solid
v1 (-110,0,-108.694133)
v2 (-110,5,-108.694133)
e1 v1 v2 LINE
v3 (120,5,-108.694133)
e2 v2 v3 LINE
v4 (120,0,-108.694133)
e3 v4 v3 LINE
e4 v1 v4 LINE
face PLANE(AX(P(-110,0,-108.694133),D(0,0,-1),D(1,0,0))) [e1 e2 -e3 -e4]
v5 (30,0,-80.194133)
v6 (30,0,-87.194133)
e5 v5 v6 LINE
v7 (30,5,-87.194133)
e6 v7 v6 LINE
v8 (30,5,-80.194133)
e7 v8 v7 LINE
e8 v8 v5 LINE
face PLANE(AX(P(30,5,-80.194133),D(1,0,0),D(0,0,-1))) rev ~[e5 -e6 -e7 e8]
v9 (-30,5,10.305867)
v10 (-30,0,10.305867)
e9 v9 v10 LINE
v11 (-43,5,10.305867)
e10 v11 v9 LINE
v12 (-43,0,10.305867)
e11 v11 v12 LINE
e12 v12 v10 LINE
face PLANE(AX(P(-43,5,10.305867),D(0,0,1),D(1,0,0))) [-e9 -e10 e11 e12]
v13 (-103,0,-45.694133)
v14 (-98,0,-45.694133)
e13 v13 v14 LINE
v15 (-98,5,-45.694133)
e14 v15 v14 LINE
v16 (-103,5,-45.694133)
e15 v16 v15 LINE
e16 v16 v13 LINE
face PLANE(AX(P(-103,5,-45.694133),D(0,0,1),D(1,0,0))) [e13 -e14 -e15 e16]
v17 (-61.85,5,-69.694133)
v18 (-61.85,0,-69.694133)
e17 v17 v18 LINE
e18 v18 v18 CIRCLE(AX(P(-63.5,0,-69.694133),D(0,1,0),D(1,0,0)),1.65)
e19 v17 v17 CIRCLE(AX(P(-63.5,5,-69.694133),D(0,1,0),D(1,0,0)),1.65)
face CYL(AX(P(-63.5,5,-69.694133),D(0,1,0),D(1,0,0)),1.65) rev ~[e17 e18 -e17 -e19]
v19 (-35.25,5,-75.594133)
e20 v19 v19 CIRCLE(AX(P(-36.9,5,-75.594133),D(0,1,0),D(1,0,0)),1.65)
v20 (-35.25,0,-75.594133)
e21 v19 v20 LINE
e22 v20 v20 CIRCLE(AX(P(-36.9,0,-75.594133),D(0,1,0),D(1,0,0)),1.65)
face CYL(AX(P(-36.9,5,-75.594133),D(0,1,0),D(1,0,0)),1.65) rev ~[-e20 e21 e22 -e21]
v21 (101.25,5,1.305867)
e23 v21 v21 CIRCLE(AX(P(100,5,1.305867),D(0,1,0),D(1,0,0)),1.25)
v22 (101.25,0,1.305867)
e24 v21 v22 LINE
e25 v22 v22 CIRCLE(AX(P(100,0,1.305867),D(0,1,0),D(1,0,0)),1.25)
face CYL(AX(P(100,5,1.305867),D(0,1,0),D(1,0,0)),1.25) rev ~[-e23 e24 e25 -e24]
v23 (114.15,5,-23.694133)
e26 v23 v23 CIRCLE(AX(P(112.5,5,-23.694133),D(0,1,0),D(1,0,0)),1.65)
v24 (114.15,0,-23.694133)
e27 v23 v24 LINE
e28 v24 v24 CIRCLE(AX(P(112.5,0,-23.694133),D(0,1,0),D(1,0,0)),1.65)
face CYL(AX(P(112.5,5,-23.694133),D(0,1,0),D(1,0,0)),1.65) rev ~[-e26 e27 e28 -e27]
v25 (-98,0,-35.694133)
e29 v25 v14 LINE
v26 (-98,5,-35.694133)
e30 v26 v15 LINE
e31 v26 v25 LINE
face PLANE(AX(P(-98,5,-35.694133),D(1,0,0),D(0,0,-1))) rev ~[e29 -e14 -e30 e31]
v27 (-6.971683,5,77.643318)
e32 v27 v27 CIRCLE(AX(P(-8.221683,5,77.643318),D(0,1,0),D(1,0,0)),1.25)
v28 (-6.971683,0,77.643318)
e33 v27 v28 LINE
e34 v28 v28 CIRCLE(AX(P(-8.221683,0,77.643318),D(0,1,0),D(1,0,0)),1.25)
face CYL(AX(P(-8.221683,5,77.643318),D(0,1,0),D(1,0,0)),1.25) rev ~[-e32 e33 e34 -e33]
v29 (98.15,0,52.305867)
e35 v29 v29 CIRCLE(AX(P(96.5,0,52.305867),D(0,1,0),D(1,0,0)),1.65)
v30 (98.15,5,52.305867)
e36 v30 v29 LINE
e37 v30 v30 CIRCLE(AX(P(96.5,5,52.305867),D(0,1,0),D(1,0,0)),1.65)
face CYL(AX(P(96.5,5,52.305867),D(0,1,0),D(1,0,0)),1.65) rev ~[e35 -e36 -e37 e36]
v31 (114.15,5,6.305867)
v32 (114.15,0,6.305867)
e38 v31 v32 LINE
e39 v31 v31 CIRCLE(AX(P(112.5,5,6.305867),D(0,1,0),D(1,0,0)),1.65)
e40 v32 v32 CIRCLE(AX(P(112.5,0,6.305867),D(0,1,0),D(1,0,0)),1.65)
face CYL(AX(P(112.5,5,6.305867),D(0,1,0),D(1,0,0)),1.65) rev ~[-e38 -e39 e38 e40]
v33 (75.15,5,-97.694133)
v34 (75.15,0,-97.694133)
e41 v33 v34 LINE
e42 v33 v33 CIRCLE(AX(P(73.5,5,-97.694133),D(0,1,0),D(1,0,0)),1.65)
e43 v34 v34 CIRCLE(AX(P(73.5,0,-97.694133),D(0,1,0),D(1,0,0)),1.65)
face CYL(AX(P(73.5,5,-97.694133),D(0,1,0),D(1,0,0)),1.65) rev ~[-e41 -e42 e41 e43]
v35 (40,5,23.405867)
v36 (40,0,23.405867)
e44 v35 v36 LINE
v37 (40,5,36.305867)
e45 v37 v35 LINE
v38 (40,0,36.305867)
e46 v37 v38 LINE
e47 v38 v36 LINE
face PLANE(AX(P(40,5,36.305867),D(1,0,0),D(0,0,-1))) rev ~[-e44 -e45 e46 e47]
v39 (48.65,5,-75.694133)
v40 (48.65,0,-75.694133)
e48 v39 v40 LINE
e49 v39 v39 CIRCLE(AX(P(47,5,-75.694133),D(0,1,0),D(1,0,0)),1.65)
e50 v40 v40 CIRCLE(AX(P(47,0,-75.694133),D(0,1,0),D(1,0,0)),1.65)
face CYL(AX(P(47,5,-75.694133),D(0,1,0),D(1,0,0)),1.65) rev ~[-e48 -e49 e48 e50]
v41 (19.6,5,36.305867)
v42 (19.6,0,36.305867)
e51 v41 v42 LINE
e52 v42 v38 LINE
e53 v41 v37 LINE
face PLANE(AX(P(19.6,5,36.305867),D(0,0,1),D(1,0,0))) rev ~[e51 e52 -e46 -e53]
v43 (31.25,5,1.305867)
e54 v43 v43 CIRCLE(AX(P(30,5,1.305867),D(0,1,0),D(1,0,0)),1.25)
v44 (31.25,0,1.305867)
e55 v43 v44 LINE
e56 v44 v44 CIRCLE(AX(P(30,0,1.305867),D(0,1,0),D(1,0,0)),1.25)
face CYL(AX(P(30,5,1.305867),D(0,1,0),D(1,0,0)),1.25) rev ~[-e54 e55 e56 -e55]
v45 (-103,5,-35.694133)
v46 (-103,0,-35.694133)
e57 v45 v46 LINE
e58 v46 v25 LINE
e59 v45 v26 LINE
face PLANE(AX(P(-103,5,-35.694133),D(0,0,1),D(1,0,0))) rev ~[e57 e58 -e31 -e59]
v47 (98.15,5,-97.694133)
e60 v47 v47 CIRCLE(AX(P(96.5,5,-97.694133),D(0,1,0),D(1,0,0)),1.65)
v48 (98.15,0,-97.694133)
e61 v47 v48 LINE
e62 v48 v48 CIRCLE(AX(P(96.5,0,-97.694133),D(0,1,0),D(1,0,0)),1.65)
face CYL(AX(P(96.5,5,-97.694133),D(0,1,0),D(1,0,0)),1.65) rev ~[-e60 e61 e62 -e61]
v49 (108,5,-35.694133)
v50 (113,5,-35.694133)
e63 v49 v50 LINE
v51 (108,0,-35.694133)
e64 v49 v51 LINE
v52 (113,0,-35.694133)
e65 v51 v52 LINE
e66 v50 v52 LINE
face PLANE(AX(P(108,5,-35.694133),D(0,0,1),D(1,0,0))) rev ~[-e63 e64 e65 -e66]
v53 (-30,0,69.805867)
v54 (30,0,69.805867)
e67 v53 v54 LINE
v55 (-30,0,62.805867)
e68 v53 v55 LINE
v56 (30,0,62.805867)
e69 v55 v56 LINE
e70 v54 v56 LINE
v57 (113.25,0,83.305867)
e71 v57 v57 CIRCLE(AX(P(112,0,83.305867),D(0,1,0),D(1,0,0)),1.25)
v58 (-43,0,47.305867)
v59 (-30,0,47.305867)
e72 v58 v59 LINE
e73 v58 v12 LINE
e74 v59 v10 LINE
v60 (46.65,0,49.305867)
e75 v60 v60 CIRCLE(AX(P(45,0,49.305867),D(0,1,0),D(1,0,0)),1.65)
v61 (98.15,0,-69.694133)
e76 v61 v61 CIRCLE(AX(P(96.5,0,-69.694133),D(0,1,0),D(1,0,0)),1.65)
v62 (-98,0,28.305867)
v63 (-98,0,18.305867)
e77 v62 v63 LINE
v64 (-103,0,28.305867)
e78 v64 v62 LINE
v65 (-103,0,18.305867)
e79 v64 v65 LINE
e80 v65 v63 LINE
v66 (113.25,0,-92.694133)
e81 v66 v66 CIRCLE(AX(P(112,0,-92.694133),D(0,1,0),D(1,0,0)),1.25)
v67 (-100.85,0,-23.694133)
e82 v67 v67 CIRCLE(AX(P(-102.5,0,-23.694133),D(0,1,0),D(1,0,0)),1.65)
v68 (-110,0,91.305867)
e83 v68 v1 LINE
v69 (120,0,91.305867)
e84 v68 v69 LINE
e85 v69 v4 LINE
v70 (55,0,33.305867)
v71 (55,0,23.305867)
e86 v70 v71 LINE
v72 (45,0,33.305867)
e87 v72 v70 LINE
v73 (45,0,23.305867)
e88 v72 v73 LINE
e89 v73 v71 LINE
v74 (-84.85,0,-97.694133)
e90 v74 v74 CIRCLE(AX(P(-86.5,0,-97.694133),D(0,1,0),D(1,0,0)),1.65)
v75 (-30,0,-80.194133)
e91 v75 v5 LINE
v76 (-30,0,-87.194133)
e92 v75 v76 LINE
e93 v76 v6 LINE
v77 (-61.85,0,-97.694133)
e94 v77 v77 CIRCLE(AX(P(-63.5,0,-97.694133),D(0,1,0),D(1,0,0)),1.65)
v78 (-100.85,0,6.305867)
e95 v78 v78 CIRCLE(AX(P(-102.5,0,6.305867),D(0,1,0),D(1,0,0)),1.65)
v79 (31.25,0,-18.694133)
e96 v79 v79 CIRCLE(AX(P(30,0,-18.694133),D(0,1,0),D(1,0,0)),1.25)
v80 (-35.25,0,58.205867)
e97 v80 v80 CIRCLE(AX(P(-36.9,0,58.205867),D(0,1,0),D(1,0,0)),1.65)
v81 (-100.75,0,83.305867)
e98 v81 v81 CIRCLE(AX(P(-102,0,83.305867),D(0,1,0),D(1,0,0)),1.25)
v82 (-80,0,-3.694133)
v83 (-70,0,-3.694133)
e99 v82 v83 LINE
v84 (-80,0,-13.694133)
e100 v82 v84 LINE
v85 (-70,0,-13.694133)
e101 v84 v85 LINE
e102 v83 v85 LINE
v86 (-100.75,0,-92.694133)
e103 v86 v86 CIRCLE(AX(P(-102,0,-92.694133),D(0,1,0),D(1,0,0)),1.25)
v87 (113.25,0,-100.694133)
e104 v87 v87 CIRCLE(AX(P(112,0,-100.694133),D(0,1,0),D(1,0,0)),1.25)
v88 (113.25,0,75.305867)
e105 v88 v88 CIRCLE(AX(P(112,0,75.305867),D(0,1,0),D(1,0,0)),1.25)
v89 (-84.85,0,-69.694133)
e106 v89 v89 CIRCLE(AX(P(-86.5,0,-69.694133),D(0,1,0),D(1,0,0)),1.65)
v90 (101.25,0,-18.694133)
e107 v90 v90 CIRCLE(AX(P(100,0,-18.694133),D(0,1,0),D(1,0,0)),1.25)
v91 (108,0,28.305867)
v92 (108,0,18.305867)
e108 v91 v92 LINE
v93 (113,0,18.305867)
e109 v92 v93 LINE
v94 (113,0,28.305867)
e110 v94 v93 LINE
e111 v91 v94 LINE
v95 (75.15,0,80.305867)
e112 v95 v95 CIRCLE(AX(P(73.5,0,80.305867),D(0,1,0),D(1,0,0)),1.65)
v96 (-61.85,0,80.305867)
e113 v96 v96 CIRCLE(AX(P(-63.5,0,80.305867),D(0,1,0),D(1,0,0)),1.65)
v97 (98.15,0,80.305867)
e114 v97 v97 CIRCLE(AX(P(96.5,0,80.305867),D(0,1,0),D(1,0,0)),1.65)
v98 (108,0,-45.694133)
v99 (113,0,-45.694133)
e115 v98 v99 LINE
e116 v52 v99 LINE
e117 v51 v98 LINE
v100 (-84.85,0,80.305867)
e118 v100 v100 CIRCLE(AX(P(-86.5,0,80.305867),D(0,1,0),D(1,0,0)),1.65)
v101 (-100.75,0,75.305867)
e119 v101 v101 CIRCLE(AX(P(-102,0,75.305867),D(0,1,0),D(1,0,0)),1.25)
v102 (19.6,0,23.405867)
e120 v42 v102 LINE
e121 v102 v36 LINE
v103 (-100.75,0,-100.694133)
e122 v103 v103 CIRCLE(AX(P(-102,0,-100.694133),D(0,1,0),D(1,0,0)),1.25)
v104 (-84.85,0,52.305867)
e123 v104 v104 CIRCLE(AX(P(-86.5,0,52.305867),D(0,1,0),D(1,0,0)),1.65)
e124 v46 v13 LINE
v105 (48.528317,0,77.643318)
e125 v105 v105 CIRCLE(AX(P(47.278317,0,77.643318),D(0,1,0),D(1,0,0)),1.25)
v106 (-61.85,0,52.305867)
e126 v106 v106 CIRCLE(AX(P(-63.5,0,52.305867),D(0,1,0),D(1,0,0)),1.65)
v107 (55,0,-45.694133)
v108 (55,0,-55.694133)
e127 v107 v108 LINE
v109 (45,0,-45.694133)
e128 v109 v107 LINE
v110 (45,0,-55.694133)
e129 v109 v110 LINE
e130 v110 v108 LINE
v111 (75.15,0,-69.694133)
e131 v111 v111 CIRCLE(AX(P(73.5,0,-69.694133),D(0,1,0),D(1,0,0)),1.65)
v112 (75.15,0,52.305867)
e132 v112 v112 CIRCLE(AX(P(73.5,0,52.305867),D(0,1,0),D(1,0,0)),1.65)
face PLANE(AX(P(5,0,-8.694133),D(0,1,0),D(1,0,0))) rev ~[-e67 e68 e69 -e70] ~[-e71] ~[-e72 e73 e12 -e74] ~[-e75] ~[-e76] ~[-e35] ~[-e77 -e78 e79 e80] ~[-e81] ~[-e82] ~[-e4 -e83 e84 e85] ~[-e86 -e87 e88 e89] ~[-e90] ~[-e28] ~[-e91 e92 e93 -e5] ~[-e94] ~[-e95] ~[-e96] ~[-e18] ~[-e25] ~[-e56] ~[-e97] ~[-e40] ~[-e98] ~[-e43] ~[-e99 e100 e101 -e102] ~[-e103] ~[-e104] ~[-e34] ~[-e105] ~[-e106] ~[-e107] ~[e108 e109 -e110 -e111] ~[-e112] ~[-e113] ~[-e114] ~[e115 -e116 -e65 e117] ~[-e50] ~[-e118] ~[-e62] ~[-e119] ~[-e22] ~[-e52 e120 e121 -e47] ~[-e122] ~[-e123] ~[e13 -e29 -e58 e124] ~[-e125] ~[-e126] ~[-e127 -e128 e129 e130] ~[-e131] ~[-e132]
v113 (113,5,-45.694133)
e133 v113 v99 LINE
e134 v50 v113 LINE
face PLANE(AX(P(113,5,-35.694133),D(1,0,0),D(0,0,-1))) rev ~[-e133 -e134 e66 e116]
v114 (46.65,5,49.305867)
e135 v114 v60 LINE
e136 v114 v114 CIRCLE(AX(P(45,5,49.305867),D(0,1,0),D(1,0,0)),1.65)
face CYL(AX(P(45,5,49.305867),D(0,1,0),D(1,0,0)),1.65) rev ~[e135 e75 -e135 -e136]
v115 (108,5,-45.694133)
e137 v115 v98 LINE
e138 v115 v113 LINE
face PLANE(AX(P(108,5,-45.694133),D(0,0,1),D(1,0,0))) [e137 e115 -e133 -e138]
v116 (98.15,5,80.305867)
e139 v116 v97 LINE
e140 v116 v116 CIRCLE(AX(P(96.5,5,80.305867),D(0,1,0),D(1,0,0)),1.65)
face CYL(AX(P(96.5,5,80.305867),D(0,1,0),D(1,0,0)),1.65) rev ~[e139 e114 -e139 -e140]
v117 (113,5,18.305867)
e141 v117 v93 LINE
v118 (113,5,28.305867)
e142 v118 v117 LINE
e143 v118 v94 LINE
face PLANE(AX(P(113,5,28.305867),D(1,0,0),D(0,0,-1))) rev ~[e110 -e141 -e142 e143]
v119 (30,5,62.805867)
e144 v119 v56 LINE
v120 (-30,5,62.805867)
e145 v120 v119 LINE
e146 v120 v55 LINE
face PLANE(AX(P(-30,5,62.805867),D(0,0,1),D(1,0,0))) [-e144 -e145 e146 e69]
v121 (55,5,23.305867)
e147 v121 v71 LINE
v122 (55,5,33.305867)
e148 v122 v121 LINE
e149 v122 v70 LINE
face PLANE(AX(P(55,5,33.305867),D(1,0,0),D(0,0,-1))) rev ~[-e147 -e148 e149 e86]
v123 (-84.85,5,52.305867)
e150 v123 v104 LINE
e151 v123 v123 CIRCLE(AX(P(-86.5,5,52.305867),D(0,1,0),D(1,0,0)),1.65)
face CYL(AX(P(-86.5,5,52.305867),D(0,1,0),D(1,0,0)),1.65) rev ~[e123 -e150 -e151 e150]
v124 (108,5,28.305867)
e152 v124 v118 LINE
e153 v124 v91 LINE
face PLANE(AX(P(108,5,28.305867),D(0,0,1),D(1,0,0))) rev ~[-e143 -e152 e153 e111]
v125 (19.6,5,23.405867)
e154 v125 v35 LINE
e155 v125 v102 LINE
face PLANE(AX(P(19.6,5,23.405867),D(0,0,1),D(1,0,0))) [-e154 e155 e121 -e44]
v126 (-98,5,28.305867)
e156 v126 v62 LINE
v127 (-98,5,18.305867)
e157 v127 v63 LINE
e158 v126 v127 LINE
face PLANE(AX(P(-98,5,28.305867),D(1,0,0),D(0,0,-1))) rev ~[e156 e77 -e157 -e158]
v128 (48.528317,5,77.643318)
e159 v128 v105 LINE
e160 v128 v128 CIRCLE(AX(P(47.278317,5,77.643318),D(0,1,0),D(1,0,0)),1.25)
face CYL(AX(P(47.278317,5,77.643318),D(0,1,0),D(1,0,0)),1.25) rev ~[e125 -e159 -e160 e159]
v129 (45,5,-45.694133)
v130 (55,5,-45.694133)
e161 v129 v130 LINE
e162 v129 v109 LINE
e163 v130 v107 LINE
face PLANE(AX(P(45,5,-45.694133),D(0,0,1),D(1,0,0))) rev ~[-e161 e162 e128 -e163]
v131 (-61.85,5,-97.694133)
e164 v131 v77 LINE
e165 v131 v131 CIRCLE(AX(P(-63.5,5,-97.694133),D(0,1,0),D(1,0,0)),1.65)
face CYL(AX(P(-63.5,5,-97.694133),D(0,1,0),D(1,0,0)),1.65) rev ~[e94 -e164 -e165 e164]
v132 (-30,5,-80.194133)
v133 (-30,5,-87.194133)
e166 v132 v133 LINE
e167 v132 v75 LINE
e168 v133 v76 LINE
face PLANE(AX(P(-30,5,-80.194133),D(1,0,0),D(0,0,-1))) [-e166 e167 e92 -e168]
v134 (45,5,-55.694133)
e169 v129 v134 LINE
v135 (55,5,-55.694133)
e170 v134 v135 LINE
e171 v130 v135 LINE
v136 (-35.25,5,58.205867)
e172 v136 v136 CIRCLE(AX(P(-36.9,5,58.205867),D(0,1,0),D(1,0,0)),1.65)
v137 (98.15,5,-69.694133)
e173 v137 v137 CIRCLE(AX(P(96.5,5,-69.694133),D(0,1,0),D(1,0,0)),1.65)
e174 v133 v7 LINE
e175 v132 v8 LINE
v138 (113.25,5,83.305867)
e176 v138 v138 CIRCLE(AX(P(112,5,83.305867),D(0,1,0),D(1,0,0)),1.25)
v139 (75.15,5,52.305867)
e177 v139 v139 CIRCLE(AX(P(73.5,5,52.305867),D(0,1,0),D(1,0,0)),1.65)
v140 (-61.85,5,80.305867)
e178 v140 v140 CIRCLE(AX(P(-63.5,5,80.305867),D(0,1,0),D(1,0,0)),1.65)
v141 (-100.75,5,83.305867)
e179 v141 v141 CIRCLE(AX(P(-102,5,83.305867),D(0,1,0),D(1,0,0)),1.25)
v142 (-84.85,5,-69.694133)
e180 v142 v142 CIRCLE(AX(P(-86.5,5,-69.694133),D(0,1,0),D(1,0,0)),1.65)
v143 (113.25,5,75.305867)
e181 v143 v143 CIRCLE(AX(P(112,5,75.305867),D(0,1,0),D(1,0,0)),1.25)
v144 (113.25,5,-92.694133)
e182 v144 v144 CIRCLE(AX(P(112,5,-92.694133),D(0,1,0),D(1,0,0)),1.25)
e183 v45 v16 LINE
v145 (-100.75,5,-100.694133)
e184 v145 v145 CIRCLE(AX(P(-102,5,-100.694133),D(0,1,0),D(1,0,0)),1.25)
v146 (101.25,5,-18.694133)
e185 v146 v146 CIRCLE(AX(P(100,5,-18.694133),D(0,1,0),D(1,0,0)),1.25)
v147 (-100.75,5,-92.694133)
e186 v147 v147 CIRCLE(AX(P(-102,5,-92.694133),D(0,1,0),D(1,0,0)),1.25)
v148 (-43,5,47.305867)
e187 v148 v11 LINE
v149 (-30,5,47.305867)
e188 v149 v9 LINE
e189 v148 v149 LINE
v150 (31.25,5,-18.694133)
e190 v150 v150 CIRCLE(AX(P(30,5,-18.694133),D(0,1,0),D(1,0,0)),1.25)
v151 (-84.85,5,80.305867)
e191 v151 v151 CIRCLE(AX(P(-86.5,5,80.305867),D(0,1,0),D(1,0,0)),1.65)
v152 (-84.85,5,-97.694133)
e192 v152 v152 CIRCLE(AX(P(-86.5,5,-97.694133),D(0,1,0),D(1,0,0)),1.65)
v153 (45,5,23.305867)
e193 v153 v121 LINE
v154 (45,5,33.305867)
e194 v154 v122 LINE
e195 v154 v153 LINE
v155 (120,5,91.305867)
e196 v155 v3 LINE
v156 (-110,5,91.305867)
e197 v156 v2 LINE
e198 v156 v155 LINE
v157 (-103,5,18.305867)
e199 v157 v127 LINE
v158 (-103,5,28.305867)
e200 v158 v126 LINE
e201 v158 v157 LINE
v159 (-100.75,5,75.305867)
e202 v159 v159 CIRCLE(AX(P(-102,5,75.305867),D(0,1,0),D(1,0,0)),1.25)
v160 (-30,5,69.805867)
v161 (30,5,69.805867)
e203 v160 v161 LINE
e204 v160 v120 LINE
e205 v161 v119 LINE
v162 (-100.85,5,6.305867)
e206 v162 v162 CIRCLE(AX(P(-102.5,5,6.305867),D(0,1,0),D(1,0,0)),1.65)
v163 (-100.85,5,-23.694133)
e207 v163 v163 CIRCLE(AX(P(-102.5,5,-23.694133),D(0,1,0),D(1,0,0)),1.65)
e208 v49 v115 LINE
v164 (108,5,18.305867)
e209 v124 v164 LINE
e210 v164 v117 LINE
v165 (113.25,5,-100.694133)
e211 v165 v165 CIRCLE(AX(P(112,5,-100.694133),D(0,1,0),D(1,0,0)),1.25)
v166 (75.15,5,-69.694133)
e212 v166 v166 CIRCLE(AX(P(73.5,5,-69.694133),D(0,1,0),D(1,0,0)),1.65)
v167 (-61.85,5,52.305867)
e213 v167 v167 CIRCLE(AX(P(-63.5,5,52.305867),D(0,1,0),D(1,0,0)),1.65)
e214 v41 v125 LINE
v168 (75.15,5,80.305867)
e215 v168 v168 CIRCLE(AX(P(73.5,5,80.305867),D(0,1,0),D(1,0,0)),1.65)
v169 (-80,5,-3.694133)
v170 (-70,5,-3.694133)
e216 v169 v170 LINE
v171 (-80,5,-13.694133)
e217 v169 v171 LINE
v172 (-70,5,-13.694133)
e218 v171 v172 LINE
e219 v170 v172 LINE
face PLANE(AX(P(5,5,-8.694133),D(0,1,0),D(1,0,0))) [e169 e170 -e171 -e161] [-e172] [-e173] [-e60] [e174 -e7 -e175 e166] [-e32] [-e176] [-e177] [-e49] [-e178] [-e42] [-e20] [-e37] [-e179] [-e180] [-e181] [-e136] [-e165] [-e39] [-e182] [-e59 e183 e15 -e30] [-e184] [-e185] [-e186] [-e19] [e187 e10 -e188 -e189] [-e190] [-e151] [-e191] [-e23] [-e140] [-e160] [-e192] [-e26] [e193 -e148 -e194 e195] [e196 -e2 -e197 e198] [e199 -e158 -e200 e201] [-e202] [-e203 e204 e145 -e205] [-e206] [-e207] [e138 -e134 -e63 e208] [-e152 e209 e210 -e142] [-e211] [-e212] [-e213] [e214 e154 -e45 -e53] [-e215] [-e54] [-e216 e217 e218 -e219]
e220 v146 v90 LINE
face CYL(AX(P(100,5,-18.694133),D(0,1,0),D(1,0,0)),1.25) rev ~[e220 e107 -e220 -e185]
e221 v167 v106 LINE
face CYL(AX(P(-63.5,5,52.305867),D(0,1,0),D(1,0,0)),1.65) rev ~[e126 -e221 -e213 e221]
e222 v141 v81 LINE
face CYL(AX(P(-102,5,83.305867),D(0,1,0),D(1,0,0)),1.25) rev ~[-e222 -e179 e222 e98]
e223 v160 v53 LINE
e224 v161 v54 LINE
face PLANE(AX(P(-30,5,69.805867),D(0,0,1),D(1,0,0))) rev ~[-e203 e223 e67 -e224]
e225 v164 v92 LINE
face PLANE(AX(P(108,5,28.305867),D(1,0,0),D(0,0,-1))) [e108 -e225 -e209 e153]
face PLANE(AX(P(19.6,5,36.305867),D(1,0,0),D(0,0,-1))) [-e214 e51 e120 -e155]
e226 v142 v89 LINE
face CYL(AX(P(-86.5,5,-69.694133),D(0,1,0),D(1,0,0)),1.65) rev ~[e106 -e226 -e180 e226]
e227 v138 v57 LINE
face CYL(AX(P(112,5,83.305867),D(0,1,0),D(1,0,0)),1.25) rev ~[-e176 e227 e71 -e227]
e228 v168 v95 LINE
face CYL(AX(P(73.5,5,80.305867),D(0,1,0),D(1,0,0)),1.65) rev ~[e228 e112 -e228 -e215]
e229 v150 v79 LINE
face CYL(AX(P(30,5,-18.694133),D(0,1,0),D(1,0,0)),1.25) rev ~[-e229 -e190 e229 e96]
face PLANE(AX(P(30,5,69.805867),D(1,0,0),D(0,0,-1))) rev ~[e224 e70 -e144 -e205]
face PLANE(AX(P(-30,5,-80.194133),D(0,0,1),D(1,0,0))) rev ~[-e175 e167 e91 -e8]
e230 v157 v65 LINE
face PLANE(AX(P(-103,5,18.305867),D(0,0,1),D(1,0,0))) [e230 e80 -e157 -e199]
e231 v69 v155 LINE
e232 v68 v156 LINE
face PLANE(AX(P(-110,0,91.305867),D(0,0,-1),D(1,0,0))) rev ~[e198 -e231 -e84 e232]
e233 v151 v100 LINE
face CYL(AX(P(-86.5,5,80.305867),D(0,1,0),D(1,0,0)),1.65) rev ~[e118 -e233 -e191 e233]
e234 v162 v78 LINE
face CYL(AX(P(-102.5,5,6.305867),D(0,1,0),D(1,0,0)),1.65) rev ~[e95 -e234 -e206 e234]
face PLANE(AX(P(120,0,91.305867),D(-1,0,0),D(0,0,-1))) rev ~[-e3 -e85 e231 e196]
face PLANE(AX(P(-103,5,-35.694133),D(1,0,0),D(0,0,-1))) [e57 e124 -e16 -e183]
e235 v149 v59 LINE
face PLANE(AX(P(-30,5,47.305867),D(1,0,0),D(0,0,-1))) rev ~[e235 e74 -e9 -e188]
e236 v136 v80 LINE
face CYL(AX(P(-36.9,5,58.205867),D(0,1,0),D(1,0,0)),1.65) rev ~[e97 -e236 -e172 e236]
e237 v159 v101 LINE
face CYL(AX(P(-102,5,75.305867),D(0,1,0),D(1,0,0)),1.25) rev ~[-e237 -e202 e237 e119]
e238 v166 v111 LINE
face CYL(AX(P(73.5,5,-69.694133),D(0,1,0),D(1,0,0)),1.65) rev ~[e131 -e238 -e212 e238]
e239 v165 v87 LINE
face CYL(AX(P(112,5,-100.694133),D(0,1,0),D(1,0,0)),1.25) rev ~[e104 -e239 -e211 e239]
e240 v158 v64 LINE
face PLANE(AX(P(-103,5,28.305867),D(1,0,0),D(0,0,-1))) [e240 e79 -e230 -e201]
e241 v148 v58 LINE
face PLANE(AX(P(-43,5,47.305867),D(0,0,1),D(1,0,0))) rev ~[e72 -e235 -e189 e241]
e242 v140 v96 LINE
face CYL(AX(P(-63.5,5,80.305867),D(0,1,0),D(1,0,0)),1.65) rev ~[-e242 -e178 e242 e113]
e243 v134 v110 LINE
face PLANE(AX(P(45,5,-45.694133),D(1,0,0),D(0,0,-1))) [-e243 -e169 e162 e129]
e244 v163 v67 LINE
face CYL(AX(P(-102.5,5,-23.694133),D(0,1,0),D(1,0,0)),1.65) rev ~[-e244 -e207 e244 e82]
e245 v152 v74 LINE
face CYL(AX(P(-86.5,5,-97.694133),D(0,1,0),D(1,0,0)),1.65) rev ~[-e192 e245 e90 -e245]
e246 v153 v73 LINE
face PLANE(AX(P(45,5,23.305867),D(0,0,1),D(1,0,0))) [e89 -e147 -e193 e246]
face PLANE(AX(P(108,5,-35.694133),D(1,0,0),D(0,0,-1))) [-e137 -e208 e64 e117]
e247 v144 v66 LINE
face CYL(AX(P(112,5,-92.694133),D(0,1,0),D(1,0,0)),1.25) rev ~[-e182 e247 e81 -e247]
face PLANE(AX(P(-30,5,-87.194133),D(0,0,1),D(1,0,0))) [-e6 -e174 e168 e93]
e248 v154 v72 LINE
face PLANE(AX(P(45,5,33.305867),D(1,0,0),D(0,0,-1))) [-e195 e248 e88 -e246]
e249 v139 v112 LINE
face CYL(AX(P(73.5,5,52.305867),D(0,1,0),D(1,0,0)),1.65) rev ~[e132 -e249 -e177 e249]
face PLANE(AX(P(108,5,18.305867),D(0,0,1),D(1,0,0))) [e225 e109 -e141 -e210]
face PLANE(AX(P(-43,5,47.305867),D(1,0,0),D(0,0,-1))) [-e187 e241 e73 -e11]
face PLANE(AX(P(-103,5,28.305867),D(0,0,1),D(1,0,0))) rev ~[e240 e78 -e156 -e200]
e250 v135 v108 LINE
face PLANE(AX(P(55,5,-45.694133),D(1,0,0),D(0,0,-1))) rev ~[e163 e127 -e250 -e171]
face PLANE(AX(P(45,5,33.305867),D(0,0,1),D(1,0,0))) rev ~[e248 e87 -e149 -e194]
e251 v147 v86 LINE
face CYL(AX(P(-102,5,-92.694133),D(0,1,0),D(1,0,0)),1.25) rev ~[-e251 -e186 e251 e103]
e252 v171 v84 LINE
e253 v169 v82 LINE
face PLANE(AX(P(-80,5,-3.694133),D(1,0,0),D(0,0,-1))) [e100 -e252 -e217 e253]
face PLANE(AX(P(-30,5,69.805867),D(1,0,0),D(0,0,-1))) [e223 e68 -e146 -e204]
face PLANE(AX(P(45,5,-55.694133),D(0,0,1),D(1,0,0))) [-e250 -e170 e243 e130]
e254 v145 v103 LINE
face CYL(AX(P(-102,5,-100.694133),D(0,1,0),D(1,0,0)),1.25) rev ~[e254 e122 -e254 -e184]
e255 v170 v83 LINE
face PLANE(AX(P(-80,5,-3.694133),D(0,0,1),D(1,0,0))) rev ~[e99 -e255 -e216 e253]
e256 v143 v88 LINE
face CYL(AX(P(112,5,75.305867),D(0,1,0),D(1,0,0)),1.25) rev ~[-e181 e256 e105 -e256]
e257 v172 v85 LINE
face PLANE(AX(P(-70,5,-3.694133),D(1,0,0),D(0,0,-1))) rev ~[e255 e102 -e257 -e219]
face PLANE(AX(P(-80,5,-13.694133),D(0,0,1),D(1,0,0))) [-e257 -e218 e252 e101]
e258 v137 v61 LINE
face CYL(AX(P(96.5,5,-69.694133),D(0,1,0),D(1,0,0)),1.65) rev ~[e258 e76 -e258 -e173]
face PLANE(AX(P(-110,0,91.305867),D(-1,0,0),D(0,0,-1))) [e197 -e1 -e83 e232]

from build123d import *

# Parameters (mm, degrees)
SKETCH1_W                       = 230
SKETCH1_H                       = 200
EXTRUDE1_DEPTH                  = 5
SKETCH3_R                       = 1.65
SKETCH3_W                       = 60
SKETCH3_H                       = 7
SKETCH3_W_2                     = 13
SKETCH3_H_2                     = 37
EXTRUDE2_DEPTH                  = 5
SKIZZE1_R                       = 1.25
SCHNITT_LINEAR_AUSTRAGEN1_DEPTH = 10
SKIZZE3_R                       = 1.25
SCHNITT_LINEAR_AUSTRAGEN3_DEPTH = 5
SKIZZE4_R                       = 1.65
SKIZZE4_W                       = 5
SKIZZE4_H                       = 10
SCHNITT_LINEAR_AUSTRAGEN4_DEPTH = 10
SKIZZE5_R                       = 1.25
SCHNITT_LINEAR_AUSTRAGEN5_DEPTH = 10
SKIZZE6_W                       = 20.4
SKIZZE6_H                       = 12.9
SCHNITT_LINEAR_AUSTRAGEN6_DEPTH = 10
SKIZZE7_W                       = 10
SKIZZE7_H                       = 10
SCHNITT_LINEAR_AUSTRAGEN7_DEPTH = 10
SKIZZE8_W                       = 10
SKIZZE8_H                       = 10
SCHNITT_LINEAR_AUSTRAGEN8_DEPTH = 10


with BuildPart() as part:
    # Sketch1 → Extrude1 (new body)
    with BuildSketch(Plane(origin=(0, 0, 0), x_dir=(1, 0, 0), z_dir=(0, 1, 0))):
        with Locations((5, 8.694132839)):
            Rectangle(SKETCH1_W, SKETCH1_H)
    extrude(amount=EXTRUDE1_DEPTH)

    # Sketch3 → Extrude2 (cut)
    with BuildSketch(Plane(origin=(0, 5, 0), x_dir=(1, 0, 0), z_dir=(0, 1, 0))):
        with Locations((-86.5, 97.694132839)):
            Circle(SKETCH3_R)
        with Locations((-63.5, 97.694132839)):
            Circle(SKETCH3_R)
        with Locations((-86.5, 69.694132839)):
            Circle(SKETCH3_R)
        with Locations((-63.5, 69.694132839)):
            Circle(SKETCH3_R)
        with Locations((-86.5, -52.305867161)):
            Circle(SKETCH3_R)
        with Locations((-63.5, -52.305867161)):
            Circle(SKETCH3_R)
        with Locations((-86.5, -80.305867161)):
            Circle(SKETCH3_R)
        with Locations((-63.5, -80.305867161)):
            Circle(SKETCH3_R)
        with Locations((73.5, -52.305867161)):
            Circle(SKETCH3_R)
        with Locations((96.5, -52.305867161)):
            Circle(SKETCH3_R)
        with Locations((73.5, -80.305867161)):
            Circle(SKETCH3_R)
        with Locations((96.5, -80.305867161)):
            Circle(SKETCH3_R)
        with Locations((73.5, 97.694132839)):
            Circle(SKETCH3_R)
        with Locations((96.5, 97.694132839)):
            Circle(SKETCH3_R)
        with Locations((73.5, 69.694132839)):
            Circle(SKETCH3_R)
        with Locations((96.5, 69.694132839)):
            Circle(SKETCH3_R)
        with Locations((-36.9, -58.205867161)):
            Circle(SKETCH3_R)
        with Locations((-36.9, 75.594132839)):
            Circle(SKETCH3_R)
        with Locations((47, 75.694132839)):
            Circle(SKETCH3_R)
        with Locations((45, -49.305867161)):
            Circle(SKETCH3_R)
        with Locations((0, 83.694132839)):
            Rectangle(SKETCH3_W, SKETCH3_H)
        with Locations((0, -66.305867161)):
            Rectangle(SKETCH3_W, SKETCH3_H)
        with Locations((-36.5, -28.805867161)):
            Rectangle(SKETCH3_W_2, SKETCH3_H_2)
    extrude(amount=-EXTRUDE2_DEPTH, mode=Mode.SUBTRACT)

    # Skizze1 → Schnitt-Linear austragen1 (cut)
    with BuildSketch(Plane(origin=(0, 5, 0), x_dir=(1, 0, 0), z_dir=(0, 1, 0))):
        with Locations((-102, 100.694132839)):
            Circle(SKIZZE1_R)
        with Locations((-102, -83.305867161)):
            Circle(SKIZZE1_R)
        with Locations((112, -83.305867161)):
            Circle(SKIZZE1_R)
        with Locations((112, 100.694132839)):
            Circle(SKIZZE1_R)
        with Locations((-102, -75.305867161)):
            Circle(SKIZZE1_R)
        with Locations((-102, 92.694132839)):
            Circle(SKIZZE1_R)
        with Locations((112, 92.694132839)):
            Circle(SKIZZE1_R)
        with Locations((112, -75.305867161)):
            Circle(SKIZZE1_R)
    extrude(amount=-SCHNITT_LINEAR_AUSTRAGEN1_DEPTH, mode=Mode.SUBTRACT)

    # Skizze3 → Schnitt-Linear austragen3 (cut)
    with BuildSketch(Plane(origin=(0, 5, 0), x_dir=(1, 0, 0), z_dir=(0, 1, 0))):
        with Locations((-8.221682518, -77.643318078)):
            Circle(SKIZZE3_R)
        with Locations((47.278317482, -77.643318078)):
            Circle(SKIZZE3_R)
    extrude(amount=-SCHNITT_LINEAR_AUSTRAGEN3_DEPTH, mode=Mode.SUBTRACT)

    # Skizze4 → Schnitt-Linear austragen4 (cut)
    with BuildSketch(Plane(origin=(0, 5, 0), x_dir=(1, 0, 0), z_dir=(0, 1, 0))):
        with Locations((112.5, 23.694132839)):
            Circle(SKIZZE4_R)
        with Locations((112.5, -6.305867161)):
            Circle(SKIZZE4_R)
        with Locations((-102.5, 23.694132839)):
            Circle(SKIZZE4_R)
        with Locations((-102.5, -6.305867161)):
            Circle(SKIZZE4_R)
        with Locations((110.5, -23.305867161)):
            Rectangle(SKIZZE4_W, SKIZZE4_H)
        with Locations((110.5, 40.694132839)):
            Rectangle(SKIZZE4_W, SKIZZE4_H)
        with Locations((-100.5, 40.694132839)):
            Rectangle(SKIZZE4_W, SKIZZE4_H)
        with Locations((-100.5, -23.305867161)):
            Rectangle(SKIZZE4_W, SKIZZE4_H)
    extrude(amount=-SCHNITT_LINEAR_AUSTRAGEN4_DEPTH, mode=Mode.SUBTRACT)

    # Skizze5 → Schnitt-Linear austragen5 (cut)
    with BuildSketch(Plane(origin=(0, 5, 0), x_dir=(1, 0, 0), z_dir=(0, 1, 0))):
        with Locations((100, 18.694132839)):
            Circle(SKIZZE5_R)
        with Locations((100, -1.305867161)):
            Circle(SKIZZE5_R)
        with Locations((30, 18.694132839)):
            Circle(SKIZZE5_R)
        with Locations((30, -1.305867161)):
            Circle(SKIZZE5_R)
    extrude(amount=-SCHNITT_LINEAR_AUSTRAGEN5_DEPTH, mode=Mode.SUBTRACT)

    # Skizze6 → Schnitt-Linear austragen6 (cut)
    with BuildSketch(Plane(origin=(0, 5, 0), x_dir=(1, 0, 0), z_dir=(0, 1, 0))):
        with Locations((29.8, -29.855867161)):
            Rectangle(SKIZZE6_W, SKIZZE6_H)
    extrude(amount=-SCHNITT_LINEAR_AUSTRAGEN6_DEPTH, mode=Mode.SUBTRACT)

    # Skizze7 → Schnitt-Linear austragen7 (cut)
    with BuildSketch(Plane(origin=(0, 5, 0), x_dir=(1, 0, 0), z_dir=(0, 1, 0))):
        with Locations((-75, 8.694132839)):
            Rectangle(SKIZZE7_W, SKIZZE7_H)
    extrude(amount=-SCHNITT_LINEAR_AUSTRAGEN7_DEPTH, mode=Mode.SUBTRACT)

    # Skizze8 → Schnitt-Linear austragen8 (cut)
    with BuildSketch(Plane(origin=(0, 5, 0), x_dir=(1, 0, 0), z_dir=(0, 1, 0))):
        with Locations((50, 50.694132839)):
            Rectangle(SKIZZE8_W, SKIZZE8_H)
        with Locations((50, -28.305867161)):
            Rectangle(SKIZZE8_W, SKIZZE8_H)
    extrude(amount=-SCHNITT_LINEAR_AUSTRAGEN8_DEPTH, mode=Mode.SUBTRACT)


solid = part.part
